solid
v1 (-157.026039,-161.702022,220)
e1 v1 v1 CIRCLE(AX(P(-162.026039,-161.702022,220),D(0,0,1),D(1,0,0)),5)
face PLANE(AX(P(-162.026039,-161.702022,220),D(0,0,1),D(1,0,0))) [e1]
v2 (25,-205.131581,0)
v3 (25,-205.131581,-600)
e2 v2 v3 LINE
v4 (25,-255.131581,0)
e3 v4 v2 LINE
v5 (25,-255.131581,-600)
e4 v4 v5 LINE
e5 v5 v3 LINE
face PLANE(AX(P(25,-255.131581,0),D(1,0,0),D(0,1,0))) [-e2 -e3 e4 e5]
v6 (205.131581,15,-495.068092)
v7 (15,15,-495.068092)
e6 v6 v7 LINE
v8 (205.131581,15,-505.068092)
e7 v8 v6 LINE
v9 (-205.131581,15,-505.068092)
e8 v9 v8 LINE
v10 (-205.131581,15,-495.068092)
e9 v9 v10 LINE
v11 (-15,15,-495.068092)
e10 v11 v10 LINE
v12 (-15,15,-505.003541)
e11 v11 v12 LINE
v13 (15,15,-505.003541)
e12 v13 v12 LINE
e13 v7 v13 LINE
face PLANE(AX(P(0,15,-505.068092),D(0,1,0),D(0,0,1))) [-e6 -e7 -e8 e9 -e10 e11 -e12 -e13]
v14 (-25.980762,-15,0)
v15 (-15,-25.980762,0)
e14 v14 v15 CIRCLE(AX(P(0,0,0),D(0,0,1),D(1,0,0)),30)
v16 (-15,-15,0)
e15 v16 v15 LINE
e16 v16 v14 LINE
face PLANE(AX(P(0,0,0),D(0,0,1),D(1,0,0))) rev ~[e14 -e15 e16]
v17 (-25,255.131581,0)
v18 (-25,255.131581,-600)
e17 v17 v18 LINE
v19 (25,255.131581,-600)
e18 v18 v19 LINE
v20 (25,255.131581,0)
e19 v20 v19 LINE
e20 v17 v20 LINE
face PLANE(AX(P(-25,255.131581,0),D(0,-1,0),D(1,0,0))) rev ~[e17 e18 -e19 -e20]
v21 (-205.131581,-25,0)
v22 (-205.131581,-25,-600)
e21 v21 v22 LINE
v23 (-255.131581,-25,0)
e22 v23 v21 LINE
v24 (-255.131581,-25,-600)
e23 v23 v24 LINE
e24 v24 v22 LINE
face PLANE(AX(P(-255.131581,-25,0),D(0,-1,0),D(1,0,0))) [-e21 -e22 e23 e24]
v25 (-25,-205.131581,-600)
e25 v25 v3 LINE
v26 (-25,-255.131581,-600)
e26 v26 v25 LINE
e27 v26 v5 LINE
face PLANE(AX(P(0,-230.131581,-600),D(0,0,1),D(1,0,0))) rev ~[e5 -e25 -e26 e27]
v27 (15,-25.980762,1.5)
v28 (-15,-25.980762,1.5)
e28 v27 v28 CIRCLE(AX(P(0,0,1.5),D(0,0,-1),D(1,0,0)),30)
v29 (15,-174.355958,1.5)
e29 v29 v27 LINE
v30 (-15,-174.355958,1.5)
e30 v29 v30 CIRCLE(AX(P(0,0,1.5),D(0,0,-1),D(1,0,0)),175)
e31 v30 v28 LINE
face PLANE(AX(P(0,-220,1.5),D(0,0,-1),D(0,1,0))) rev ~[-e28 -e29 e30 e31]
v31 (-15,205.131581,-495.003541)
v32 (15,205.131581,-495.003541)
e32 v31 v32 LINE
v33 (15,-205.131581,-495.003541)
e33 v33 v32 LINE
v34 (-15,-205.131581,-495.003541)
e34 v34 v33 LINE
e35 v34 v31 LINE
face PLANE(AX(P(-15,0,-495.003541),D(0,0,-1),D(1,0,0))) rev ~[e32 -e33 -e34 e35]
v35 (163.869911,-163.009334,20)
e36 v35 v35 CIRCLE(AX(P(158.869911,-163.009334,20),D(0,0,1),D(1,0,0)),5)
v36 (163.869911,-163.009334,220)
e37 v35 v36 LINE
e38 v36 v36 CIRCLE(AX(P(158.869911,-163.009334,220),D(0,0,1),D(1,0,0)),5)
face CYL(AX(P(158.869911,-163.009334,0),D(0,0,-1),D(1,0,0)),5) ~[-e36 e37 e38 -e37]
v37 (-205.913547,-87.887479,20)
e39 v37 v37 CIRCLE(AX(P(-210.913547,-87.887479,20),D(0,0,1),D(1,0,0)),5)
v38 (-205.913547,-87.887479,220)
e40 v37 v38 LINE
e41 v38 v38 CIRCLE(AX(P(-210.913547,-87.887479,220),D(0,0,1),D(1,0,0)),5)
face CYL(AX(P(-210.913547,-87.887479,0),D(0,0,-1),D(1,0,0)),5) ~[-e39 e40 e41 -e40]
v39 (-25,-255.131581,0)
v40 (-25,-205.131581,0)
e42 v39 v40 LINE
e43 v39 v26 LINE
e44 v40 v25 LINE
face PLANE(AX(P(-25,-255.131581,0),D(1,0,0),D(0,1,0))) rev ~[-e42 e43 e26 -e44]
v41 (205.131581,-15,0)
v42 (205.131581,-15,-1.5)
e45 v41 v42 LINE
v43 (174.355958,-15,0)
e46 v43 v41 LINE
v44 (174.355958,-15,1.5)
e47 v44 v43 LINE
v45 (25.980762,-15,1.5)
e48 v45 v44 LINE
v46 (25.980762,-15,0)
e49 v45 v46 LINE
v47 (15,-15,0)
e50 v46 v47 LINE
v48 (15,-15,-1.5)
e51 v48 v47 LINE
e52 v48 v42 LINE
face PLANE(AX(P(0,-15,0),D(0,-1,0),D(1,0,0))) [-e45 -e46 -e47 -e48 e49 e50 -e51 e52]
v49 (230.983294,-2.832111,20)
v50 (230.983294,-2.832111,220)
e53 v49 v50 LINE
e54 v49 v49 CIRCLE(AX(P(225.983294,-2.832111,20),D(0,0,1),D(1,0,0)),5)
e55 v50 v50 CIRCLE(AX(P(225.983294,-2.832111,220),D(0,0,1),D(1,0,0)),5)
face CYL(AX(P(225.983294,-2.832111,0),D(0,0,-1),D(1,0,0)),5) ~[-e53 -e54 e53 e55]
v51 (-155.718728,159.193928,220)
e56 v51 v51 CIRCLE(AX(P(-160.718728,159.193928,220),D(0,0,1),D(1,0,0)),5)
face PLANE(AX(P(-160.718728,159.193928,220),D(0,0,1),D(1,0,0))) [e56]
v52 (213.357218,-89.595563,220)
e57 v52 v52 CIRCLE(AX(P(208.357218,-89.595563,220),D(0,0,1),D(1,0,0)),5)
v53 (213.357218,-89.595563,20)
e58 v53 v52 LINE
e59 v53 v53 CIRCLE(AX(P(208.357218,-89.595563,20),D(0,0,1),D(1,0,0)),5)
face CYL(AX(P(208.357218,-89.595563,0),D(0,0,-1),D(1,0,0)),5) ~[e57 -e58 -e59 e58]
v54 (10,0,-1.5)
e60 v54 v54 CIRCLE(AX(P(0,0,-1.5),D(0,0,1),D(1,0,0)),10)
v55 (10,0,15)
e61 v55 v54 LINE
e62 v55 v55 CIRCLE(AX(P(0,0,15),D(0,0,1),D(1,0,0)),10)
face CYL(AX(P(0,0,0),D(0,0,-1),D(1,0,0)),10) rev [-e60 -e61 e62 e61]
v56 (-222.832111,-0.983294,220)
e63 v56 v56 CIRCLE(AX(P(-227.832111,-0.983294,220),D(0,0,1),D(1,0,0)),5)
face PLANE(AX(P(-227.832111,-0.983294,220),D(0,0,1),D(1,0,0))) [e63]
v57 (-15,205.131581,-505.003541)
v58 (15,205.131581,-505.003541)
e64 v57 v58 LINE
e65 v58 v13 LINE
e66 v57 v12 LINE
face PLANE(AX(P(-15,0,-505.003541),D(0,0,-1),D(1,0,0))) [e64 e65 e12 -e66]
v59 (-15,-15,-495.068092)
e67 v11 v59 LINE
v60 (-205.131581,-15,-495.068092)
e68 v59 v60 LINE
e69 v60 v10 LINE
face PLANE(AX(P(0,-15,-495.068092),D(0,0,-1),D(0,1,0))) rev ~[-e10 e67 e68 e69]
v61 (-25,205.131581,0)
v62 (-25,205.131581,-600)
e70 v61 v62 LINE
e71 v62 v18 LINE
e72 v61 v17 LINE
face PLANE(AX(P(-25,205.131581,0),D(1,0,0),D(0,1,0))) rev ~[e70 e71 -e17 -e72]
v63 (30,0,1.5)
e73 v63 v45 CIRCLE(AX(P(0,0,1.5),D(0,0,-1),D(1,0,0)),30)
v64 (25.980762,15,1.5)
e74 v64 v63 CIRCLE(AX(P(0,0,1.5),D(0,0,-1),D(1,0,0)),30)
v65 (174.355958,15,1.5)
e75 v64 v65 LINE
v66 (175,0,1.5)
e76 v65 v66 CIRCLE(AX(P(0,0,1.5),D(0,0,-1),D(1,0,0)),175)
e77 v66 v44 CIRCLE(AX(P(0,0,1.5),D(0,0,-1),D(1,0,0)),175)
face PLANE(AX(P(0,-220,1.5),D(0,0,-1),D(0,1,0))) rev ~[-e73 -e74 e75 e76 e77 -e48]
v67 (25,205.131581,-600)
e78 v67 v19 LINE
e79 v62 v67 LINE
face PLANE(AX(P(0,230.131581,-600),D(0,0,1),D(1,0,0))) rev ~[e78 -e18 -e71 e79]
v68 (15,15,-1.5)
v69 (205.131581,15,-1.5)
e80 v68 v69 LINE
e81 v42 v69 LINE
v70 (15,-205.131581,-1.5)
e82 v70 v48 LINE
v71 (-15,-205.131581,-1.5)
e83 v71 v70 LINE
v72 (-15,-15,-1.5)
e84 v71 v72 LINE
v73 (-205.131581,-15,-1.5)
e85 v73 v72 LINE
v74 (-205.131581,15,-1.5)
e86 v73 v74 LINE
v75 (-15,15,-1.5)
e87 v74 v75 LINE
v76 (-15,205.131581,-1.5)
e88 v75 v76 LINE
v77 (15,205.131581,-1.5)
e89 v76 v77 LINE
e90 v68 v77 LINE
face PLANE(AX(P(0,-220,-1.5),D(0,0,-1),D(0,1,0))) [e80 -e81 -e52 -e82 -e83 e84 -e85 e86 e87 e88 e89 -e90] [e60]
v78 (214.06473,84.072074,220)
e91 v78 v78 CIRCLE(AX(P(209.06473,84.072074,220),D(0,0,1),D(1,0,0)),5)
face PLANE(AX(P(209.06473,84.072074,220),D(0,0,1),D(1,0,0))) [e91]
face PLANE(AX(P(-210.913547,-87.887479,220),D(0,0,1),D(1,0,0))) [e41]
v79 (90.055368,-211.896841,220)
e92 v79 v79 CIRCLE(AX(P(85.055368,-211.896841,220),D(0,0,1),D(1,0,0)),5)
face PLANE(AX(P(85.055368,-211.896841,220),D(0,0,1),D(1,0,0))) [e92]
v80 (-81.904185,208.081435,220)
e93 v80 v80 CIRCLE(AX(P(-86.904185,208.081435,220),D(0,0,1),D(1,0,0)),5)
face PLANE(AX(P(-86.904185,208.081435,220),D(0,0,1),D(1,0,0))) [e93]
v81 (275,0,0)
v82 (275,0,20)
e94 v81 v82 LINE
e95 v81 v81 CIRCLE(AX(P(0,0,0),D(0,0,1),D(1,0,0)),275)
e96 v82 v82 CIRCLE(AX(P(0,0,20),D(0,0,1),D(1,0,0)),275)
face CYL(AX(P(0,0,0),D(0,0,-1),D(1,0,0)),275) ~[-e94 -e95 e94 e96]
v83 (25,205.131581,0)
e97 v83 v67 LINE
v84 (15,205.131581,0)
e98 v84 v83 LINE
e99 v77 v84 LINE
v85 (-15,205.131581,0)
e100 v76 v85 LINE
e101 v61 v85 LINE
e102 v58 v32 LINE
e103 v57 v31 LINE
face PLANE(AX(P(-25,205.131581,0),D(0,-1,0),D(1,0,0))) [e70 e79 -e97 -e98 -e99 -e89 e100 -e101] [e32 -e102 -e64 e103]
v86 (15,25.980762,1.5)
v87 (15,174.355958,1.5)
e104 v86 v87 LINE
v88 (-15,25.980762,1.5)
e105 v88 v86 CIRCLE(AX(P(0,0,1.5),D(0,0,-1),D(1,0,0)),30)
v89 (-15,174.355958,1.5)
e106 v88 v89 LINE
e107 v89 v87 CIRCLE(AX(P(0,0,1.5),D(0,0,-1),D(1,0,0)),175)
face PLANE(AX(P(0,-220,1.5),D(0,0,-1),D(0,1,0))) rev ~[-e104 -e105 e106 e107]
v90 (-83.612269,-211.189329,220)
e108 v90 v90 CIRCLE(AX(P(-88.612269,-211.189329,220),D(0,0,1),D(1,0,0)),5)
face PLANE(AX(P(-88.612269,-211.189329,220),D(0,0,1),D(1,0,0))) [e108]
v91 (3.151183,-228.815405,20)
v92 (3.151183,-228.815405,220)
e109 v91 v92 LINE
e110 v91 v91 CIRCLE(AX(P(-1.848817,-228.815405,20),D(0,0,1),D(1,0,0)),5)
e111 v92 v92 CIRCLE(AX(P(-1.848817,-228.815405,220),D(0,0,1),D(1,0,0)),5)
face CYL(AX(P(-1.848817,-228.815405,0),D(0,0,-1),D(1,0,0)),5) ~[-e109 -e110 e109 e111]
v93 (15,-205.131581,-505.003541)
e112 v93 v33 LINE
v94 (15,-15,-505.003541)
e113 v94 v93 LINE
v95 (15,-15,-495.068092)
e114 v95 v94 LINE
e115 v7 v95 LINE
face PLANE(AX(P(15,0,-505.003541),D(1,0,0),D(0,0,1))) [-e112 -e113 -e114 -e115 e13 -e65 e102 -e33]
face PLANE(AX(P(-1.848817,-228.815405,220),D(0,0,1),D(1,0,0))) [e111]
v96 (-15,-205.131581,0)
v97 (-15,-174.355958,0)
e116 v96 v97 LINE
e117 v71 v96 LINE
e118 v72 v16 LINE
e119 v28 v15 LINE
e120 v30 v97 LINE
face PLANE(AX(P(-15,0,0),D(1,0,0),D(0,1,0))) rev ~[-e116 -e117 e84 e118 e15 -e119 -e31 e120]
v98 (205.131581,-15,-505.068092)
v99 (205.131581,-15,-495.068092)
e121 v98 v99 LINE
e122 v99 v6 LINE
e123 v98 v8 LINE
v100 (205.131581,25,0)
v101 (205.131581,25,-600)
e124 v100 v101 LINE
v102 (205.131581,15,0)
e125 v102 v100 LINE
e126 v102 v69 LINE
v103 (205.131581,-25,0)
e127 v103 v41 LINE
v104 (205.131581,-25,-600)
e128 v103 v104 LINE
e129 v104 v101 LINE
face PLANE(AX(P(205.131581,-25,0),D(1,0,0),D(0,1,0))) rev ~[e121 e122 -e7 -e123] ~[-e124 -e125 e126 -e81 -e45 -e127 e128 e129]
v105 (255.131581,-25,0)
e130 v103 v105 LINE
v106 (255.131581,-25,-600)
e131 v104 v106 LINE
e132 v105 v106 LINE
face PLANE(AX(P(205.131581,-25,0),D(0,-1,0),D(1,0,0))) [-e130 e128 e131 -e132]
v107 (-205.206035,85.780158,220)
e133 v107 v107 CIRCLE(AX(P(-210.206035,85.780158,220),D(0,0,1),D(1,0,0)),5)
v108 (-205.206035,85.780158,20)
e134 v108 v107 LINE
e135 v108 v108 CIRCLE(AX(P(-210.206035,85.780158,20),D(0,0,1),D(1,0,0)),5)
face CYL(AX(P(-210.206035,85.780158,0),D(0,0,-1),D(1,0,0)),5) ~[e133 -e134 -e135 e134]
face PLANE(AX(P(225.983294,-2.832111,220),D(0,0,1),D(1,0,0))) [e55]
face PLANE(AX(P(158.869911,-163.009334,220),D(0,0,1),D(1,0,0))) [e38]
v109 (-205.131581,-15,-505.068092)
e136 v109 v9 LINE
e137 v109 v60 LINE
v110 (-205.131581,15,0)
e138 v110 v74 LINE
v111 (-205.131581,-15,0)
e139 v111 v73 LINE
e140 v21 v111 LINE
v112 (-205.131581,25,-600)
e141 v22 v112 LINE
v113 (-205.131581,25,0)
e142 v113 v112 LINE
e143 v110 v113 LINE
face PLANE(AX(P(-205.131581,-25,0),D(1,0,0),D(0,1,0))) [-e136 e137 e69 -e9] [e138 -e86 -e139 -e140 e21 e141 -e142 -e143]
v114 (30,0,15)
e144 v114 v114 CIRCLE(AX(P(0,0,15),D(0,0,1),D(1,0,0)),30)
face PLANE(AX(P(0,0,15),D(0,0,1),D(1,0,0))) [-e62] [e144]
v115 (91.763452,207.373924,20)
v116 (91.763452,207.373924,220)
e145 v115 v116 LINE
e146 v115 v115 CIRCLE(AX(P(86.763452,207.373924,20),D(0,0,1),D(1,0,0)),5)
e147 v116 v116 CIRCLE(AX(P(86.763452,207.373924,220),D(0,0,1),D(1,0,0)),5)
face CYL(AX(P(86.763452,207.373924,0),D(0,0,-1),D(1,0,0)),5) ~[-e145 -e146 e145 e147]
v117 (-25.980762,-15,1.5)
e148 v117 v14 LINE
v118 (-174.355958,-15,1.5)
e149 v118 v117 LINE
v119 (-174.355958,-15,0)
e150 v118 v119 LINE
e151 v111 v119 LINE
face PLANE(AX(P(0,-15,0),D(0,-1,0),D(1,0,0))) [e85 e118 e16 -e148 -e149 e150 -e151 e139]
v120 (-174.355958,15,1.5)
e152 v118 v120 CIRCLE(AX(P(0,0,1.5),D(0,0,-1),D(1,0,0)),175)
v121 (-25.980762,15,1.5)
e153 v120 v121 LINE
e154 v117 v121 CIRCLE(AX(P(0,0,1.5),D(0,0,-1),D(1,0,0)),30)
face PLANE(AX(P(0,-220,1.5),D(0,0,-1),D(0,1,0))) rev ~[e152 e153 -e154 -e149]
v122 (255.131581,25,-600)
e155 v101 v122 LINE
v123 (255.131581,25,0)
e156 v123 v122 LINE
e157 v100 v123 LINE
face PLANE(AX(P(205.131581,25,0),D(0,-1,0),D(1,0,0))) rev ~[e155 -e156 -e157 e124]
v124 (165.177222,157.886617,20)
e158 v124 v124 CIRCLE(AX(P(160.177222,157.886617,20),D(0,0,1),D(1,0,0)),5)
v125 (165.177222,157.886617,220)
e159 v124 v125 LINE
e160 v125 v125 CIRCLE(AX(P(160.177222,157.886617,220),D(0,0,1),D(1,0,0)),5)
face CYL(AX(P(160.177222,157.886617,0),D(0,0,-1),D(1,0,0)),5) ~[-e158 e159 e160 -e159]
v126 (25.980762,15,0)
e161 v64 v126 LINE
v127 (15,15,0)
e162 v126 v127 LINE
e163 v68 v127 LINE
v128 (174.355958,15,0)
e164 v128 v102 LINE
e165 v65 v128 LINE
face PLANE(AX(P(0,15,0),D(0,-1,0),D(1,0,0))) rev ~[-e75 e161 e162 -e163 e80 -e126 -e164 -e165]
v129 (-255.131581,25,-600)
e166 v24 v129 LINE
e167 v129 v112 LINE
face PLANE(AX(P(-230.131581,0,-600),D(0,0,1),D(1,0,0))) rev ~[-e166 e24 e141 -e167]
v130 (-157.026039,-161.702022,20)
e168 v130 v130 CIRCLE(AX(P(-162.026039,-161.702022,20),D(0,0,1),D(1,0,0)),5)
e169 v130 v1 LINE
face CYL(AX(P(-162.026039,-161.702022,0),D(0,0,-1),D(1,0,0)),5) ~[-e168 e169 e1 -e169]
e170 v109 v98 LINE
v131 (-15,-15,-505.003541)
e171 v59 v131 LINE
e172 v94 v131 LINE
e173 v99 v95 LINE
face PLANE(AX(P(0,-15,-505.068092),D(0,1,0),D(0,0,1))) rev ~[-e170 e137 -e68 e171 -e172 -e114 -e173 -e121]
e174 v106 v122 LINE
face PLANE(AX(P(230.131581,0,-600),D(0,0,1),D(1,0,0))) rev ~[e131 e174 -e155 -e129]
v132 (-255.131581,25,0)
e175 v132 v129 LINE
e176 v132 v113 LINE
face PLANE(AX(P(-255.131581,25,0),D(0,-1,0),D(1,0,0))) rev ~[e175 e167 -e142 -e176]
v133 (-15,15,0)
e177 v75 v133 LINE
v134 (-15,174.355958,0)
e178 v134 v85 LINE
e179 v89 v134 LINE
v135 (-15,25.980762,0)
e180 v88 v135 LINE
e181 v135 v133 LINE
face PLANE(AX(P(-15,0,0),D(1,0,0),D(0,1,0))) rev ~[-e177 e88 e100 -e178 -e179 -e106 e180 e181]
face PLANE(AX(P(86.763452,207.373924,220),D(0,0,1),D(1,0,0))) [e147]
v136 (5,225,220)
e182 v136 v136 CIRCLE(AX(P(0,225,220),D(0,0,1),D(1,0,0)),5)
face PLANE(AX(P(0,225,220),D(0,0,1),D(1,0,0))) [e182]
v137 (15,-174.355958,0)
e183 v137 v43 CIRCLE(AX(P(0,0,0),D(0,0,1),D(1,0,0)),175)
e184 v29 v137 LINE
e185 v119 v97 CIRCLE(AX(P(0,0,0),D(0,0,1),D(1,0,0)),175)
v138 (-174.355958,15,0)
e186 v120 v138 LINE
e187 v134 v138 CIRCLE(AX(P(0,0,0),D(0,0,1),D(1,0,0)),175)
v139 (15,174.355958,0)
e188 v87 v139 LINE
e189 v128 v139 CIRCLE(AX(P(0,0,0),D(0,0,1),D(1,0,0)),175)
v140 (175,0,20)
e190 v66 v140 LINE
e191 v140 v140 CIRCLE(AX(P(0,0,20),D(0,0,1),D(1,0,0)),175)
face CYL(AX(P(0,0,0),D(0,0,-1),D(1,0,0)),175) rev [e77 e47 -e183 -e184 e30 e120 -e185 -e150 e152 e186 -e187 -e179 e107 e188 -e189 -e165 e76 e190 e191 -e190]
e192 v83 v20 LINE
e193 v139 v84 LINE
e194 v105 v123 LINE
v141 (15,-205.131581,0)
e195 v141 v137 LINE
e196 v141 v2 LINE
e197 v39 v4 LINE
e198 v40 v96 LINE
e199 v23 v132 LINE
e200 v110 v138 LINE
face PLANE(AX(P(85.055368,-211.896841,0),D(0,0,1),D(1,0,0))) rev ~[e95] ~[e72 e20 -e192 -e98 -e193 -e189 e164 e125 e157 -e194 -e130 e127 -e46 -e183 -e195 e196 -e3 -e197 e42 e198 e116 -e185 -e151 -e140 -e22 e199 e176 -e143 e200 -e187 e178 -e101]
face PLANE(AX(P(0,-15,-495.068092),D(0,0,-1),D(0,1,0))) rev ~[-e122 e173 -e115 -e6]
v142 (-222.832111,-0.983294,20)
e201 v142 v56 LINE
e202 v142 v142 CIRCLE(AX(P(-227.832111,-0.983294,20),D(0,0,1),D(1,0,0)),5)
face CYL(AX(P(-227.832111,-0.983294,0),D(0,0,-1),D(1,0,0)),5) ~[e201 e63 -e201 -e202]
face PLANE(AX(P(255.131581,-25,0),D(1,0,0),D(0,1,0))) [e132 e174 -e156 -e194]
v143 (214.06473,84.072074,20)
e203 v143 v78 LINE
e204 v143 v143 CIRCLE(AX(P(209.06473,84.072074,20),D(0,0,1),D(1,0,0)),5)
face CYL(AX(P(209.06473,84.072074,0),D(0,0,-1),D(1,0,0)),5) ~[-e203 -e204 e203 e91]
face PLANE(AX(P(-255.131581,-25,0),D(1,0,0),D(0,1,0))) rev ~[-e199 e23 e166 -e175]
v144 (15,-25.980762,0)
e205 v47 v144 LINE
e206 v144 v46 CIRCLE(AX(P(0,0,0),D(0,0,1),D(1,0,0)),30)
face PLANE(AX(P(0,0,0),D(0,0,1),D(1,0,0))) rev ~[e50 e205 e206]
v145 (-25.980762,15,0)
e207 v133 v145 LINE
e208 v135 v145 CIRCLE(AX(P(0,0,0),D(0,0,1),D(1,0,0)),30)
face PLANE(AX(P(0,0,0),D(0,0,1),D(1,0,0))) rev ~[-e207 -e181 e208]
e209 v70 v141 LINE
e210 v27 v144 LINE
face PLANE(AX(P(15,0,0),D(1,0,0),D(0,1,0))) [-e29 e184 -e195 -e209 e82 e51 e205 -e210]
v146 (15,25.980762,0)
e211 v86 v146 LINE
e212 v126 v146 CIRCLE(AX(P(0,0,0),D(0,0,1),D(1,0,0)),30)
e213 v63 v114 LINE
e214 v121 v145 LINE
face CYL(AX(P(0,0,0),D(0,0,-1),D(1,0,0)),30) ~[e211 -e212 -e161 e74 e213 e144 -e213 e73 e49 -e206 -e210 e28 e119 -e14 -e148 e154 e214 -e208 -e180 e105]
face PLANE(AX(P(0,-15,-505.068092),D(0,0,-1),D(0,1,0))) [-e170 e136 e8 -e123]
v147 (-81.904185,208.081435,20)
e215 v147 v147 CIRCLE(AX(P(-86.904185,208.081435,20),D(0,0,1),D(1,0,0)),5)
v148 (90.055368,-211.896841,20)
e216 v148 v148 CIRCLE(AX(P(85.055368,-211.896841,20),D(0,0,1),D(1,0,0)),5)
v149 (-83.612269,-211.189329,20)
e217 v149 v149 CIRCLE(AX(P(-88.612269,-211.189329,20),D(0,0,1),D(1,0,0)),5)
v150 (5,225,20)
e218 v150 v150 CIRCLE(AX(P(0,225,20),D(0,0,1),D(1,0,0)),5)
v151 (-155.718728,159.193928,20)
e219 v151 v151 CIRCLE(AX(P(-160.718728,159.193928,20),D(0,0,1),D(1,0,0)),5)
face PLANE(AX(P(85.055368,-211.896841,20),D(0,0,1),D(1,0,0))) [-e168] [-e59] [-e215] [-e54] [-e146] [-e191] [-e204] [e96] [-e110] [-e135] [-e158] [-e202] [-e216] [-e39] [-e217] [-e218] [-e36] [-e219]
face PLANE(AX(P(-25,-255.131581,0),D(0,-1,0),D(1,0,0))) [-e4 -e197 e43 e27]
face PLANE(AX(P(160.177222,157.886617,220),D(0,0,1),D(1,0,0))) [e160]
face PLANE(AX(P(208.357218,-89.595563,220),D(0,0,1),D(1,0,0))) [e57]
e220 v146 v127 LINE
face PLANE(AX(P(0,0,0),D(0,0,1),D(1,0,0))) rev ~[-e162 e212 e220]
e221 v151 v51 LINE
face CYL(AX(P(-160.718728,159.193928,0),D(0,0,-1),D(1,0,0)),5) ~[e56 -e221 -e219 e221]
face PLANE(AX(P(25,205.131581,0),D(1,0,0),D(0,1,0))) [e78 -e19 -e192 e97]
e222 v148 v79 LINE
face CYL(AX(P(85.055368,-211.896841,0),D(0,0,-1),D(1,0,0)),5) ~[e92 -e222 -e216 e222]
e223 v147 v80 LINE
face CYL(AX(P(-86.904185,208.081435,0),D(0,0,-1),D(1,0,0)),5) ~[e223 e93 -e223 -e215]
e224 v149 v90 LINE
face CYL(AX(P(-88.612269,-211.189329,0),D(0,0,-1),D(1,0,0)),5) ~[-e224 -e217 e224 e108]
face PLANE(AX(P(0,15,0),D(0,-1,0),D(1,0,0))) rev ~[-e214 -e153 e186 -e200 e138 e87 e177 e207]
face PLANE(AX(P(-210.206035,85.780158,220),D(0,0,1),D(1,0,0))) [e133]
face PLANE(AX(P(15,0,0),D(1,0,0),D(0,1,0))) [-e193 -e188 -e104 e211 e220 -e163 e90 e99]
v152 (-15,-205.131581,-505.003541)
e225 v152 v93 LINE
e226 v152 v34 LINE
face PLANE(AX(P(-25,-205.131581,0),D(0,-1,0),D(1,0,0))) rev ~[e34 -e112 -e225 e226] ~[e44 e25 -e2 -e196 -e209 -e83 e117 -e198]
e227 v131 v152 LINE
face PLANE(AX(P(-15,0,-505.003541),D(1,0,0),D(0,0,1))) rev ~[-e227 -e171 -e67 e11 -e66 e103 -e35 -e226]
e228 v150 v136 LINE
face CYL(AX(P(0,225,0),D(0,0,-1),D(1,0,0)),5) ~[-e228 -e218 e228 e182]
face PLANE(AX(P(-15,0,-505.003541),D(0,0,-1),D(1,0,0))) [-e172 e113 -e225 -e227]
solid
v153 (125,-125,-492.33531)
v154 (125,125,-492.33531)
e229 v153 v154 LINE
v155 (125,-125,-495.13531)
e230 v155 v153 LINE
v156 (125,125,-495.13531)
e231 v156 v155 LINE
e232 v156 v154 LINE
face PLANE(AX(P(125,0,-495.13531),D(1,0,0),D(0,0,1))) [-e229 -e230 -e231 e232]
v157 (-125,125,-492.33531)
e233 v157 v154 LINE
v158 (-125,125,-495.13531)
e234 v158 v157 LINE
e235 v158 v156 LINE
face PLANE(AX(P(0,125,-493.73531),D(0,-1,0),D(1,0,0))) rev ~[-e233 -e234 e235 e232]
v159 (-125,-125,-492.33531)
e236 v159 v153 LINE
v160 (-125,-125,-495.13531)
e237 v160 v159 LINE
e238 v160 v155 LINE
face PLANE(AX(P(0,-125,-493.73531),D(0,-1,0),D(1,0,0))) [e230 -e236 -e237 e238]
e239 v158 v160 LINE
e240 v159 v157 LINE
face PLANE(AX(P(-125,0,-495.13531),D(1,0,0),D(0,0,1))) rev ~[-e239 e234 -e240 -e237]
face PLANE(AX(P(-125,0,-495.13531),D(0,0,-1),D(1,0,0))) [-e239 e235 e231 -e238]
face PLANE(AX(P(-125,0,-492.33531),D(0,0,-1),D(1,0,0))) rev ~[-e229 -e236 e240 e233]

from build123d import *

# Parameters (mm, degrees)
F0_R       = 5
F0_R_2     = 275
F0_R_3     = 175
F1_DEPTH   = 20
F2_DEPTH   = 220
F3_W       = 50
F3_H       = 50
F4_DEPTH   = 600
F5_W       = 30
F5_H       = 10
F6_DEPTH   = 220
F7_W       = 30
F7_H       = 10
F8_DEPTH   = 220
F9_W       = 250
F9_H       = 2.8
F10_DEPTH  = 125
F11_W      = 440
F11_H      = 3
F12_DEPTH  = 15
F13_W      = 440
F13_H      = 3
F14_DEPTH  = 15
F15_R      = 30
F15_R_2    = 10
F16_DEPTH  = 15
F16_FACE_R = 10
F17_DEPTH  = 125


with BuildPart() as f1:
    # F0 (on Top) → F1 (new body)
    with BuildSketch(Plane.XY):
        with Locations((85.055368, -211.896841)):
            Circle(F0_R)
        with Locations((-1.848817, -228.815405)):
            Circle(F0_R)
        with Locations((-88.612269, -211.189329)):
            Circle(F0_R)
        with Locations((-162.026039, -161.702022)):
            Circle(F0_R)
        with Locations((-210.913547, -87.887479)):
            Circle(F0_R)
        with Locations((-227.832111, -0.983294)):
            Circle(F0_R)
        with Locations((-210.206035, 85.780158)):
            Circle(F0_R)
        with Locations((-160.718728, 159.193928)):
            Circle(F0_R)
        with Locations((-86.904185, 208.081435)):
            Circle(F0_R)
        with Locations((0, 225)):
            Circle(F0_R)
        with Locations((86.763452, 207.373924)):
            Circle(F0_R)
        with Locations((160.177222, 157.886617)):
            Circle(F0_R)
        with Locations((209.06473, 84.072074)):
            Circle(F0_R)
        with Locations((225.983294, -2.832111)):
            Circle(F0_R)
        with Locations((208.357218, -89.595563)):
            Circle(F0_R)
        with Locations((158.869911, -163.009334)):
            Circle(F0_R)
        Circle(F0_R_2)
        with Locations((-162.026039, -161.702022)):
            Circle(F0_R, mode=Mode.SUBTRACT)
        with Locations((-88.612269, -211.189329)):
            Circle(F0_R, mode=Mode.SUBTRACT)
        with Locations((-1.848817, -228.815405)):
            Circle(F0_R, mode=Mode.SUBTRACT)
        with Locations((-210.913547, -87.887479)):
            Circle(F0_R, mode=Mode.SUBTRACT)
        with Locations((-227.832111, -0.983294)):
            Circle(F0_R, mode=Mode.SUBTRACT)
        with Locations((85.055368, -211.896841)):
            Circle(F0_R, mode=Mode.SUBTRACT)
        with Locations((158.869911, -163.009334)):
            Circle(F0_R, mode=Mode.SUBTRACT)
        with Locations((208.357218, -89.595563)):
            Circle(F0_R, mode=Mode.SUBTRACT)
        with Locations((225.983294, -2.832111)):
            Circle(F0_R, mode=Mode.SUBTRACT)
        with Locations((-210.206035, 85.780158)):
            Circle(F0_R, mode=Mode.SUBTRACT)
        with Locations((-160.718728, 159.193928)):
            Circle(F0_R, mode=Mode.SUBTRACT)
        with Locations((-86.904185, 208.081435)):
            Circle(F0_R, mode=Mode.SUBTRACT)
        Circle(F0_R_3, mode=Mode.SUBTRACT)
        with Locations((209.06473, 84.072074)):
            Circle(F0_R, mode=Mode.SUBTRACT)
        with Locations((0, 225)):
            Circle(F0_R, mode=Mode.SUBTRACT)
        with Locations((86.763452, 207.373924)):
            Circle(F0_R, mode=Mode.SUBTRACT)
        with Locations((160.177222, 157.886617)):
            Circle(F0_R, mode=Mode.SUBTRACT)
    extrude(amount=F1_DEPTH)

    # F0 (on Top) → F2 (join)
    with BuildSketch(Plane.XY):
        with Locations((-160.718728, 159.193928)):
            Circle(F0_R)
        with Locations((-210.206035, 85.780158)):
            Circle(F0_R)
        with Locations((-86.904185, 208.081435)):
            Circle(F0_R)
        with Locations((0, 225)):
            Circle(F0_R)
        with Locations((86.763452, 207.373924)):
            Circle(F0_R)
        with Locations((160.177222, 157.886617)):
            Circle(F0_R)
        with Locations((209.06473, 84.072074)):
            Circle(F0_R)
        with Locations((225.983294, -2.832111)):
            Circle(F0_R)
        with Locations((208.357218, -89.595563)):
            Circle(F0_R)
        with Locations((158.869911, -163.009334)):
            Circle(F0_R)
        with Locations((85.055368, -211.896841)):
            Circle(F0_R)
        with Locations((-88.612269, -211.189329)):
            Circle(F0_R)
        with Locations((-1.848817, -228.815405)):
            Circle(F0_R)
        with Locations((-162.026039, -161.702022)):
            Circle(F0_R)
        with Locations((-210.913547, -87.887479)):
            Circle(F0_R)
        with Locations((-227.832111, -0.983294)):
            Circle(F0_R)
    extrude(amount=F2_DEPTH)

    # F3 (on Top) → F4 (join)
    with BuildSketch(Plane.XY):
        with Locations((0, -230.131581)):
            Rectangle(F3_W, F3_H)
        with Locations((230.131581, 0)):
            Rectangle(F3_W, F3_H)
        with Locations((0, 230.131581)):
            Rectangle(F3_W, F3_H)
        with Locations((-230.131581, 0)):
            Rectangle(F3_W, F3_H)
    extrude(amount=-F4_DEPTH)

    # F5 (on Right) → F6 (join, symmetric)
    with BuildSketch(Plane.YZ):
        with Locations((0, -500.068092)):
            Rectangle(F5_W, F5_H)
    extrude(amount=F6_DEPTH, both=True)

    # F7 (on Front) → F8 (join, symmetric)
    with BuildSketch(Plane.XZ):
        with Locations((0, -500.003541)):
            Rectangle(F7_W, F7_H)
    extrude(amount=F8_DEPTH, both=True)

    # F11 (on Front) → F12 (join, symmetric)
    with BuildSketch(Plane.XZ):
        Rectangle(F11_W, F11_H)
    extrude(amount=F12_DEPTH, both=True)

    # F13 (on Right) → F14 (join, symmetric)
    with BuildSketch(Plane.YZ):
        Rectangle(F13_W, F13_H)
    extrude(amount=F14_DEPTH, both=True)

    # F15 (on Top) → F16 (join)
    with BuildSketch(Plane.XY):
        Circle(F15_R)
        Circle(F15_R_2, mode=Mode.SUBTRACT)
    extrude(amount=F16_DEPTH)

    # F16_face (on face) → F17 (cut, symmetric)
    with BuildSketch(Plane.XY.offset(1.5)):
        Circle(F16_FACE_R)
    extrude(amount=F17_DEPTH, both=True, mode=Mode.SUBTRACT)


with BuildPart() as f10:
    # F9 (on Front) → F10 (new body, symmetric)
    with BuildSketch(Plane.XZ):
        with Locations((0, -493.73531)):
            Rectangle(F9_W, F9_H)
    extrude(amount=F10_DEPTH, both=True)


solid = Compound([f1.part, f10.part])
